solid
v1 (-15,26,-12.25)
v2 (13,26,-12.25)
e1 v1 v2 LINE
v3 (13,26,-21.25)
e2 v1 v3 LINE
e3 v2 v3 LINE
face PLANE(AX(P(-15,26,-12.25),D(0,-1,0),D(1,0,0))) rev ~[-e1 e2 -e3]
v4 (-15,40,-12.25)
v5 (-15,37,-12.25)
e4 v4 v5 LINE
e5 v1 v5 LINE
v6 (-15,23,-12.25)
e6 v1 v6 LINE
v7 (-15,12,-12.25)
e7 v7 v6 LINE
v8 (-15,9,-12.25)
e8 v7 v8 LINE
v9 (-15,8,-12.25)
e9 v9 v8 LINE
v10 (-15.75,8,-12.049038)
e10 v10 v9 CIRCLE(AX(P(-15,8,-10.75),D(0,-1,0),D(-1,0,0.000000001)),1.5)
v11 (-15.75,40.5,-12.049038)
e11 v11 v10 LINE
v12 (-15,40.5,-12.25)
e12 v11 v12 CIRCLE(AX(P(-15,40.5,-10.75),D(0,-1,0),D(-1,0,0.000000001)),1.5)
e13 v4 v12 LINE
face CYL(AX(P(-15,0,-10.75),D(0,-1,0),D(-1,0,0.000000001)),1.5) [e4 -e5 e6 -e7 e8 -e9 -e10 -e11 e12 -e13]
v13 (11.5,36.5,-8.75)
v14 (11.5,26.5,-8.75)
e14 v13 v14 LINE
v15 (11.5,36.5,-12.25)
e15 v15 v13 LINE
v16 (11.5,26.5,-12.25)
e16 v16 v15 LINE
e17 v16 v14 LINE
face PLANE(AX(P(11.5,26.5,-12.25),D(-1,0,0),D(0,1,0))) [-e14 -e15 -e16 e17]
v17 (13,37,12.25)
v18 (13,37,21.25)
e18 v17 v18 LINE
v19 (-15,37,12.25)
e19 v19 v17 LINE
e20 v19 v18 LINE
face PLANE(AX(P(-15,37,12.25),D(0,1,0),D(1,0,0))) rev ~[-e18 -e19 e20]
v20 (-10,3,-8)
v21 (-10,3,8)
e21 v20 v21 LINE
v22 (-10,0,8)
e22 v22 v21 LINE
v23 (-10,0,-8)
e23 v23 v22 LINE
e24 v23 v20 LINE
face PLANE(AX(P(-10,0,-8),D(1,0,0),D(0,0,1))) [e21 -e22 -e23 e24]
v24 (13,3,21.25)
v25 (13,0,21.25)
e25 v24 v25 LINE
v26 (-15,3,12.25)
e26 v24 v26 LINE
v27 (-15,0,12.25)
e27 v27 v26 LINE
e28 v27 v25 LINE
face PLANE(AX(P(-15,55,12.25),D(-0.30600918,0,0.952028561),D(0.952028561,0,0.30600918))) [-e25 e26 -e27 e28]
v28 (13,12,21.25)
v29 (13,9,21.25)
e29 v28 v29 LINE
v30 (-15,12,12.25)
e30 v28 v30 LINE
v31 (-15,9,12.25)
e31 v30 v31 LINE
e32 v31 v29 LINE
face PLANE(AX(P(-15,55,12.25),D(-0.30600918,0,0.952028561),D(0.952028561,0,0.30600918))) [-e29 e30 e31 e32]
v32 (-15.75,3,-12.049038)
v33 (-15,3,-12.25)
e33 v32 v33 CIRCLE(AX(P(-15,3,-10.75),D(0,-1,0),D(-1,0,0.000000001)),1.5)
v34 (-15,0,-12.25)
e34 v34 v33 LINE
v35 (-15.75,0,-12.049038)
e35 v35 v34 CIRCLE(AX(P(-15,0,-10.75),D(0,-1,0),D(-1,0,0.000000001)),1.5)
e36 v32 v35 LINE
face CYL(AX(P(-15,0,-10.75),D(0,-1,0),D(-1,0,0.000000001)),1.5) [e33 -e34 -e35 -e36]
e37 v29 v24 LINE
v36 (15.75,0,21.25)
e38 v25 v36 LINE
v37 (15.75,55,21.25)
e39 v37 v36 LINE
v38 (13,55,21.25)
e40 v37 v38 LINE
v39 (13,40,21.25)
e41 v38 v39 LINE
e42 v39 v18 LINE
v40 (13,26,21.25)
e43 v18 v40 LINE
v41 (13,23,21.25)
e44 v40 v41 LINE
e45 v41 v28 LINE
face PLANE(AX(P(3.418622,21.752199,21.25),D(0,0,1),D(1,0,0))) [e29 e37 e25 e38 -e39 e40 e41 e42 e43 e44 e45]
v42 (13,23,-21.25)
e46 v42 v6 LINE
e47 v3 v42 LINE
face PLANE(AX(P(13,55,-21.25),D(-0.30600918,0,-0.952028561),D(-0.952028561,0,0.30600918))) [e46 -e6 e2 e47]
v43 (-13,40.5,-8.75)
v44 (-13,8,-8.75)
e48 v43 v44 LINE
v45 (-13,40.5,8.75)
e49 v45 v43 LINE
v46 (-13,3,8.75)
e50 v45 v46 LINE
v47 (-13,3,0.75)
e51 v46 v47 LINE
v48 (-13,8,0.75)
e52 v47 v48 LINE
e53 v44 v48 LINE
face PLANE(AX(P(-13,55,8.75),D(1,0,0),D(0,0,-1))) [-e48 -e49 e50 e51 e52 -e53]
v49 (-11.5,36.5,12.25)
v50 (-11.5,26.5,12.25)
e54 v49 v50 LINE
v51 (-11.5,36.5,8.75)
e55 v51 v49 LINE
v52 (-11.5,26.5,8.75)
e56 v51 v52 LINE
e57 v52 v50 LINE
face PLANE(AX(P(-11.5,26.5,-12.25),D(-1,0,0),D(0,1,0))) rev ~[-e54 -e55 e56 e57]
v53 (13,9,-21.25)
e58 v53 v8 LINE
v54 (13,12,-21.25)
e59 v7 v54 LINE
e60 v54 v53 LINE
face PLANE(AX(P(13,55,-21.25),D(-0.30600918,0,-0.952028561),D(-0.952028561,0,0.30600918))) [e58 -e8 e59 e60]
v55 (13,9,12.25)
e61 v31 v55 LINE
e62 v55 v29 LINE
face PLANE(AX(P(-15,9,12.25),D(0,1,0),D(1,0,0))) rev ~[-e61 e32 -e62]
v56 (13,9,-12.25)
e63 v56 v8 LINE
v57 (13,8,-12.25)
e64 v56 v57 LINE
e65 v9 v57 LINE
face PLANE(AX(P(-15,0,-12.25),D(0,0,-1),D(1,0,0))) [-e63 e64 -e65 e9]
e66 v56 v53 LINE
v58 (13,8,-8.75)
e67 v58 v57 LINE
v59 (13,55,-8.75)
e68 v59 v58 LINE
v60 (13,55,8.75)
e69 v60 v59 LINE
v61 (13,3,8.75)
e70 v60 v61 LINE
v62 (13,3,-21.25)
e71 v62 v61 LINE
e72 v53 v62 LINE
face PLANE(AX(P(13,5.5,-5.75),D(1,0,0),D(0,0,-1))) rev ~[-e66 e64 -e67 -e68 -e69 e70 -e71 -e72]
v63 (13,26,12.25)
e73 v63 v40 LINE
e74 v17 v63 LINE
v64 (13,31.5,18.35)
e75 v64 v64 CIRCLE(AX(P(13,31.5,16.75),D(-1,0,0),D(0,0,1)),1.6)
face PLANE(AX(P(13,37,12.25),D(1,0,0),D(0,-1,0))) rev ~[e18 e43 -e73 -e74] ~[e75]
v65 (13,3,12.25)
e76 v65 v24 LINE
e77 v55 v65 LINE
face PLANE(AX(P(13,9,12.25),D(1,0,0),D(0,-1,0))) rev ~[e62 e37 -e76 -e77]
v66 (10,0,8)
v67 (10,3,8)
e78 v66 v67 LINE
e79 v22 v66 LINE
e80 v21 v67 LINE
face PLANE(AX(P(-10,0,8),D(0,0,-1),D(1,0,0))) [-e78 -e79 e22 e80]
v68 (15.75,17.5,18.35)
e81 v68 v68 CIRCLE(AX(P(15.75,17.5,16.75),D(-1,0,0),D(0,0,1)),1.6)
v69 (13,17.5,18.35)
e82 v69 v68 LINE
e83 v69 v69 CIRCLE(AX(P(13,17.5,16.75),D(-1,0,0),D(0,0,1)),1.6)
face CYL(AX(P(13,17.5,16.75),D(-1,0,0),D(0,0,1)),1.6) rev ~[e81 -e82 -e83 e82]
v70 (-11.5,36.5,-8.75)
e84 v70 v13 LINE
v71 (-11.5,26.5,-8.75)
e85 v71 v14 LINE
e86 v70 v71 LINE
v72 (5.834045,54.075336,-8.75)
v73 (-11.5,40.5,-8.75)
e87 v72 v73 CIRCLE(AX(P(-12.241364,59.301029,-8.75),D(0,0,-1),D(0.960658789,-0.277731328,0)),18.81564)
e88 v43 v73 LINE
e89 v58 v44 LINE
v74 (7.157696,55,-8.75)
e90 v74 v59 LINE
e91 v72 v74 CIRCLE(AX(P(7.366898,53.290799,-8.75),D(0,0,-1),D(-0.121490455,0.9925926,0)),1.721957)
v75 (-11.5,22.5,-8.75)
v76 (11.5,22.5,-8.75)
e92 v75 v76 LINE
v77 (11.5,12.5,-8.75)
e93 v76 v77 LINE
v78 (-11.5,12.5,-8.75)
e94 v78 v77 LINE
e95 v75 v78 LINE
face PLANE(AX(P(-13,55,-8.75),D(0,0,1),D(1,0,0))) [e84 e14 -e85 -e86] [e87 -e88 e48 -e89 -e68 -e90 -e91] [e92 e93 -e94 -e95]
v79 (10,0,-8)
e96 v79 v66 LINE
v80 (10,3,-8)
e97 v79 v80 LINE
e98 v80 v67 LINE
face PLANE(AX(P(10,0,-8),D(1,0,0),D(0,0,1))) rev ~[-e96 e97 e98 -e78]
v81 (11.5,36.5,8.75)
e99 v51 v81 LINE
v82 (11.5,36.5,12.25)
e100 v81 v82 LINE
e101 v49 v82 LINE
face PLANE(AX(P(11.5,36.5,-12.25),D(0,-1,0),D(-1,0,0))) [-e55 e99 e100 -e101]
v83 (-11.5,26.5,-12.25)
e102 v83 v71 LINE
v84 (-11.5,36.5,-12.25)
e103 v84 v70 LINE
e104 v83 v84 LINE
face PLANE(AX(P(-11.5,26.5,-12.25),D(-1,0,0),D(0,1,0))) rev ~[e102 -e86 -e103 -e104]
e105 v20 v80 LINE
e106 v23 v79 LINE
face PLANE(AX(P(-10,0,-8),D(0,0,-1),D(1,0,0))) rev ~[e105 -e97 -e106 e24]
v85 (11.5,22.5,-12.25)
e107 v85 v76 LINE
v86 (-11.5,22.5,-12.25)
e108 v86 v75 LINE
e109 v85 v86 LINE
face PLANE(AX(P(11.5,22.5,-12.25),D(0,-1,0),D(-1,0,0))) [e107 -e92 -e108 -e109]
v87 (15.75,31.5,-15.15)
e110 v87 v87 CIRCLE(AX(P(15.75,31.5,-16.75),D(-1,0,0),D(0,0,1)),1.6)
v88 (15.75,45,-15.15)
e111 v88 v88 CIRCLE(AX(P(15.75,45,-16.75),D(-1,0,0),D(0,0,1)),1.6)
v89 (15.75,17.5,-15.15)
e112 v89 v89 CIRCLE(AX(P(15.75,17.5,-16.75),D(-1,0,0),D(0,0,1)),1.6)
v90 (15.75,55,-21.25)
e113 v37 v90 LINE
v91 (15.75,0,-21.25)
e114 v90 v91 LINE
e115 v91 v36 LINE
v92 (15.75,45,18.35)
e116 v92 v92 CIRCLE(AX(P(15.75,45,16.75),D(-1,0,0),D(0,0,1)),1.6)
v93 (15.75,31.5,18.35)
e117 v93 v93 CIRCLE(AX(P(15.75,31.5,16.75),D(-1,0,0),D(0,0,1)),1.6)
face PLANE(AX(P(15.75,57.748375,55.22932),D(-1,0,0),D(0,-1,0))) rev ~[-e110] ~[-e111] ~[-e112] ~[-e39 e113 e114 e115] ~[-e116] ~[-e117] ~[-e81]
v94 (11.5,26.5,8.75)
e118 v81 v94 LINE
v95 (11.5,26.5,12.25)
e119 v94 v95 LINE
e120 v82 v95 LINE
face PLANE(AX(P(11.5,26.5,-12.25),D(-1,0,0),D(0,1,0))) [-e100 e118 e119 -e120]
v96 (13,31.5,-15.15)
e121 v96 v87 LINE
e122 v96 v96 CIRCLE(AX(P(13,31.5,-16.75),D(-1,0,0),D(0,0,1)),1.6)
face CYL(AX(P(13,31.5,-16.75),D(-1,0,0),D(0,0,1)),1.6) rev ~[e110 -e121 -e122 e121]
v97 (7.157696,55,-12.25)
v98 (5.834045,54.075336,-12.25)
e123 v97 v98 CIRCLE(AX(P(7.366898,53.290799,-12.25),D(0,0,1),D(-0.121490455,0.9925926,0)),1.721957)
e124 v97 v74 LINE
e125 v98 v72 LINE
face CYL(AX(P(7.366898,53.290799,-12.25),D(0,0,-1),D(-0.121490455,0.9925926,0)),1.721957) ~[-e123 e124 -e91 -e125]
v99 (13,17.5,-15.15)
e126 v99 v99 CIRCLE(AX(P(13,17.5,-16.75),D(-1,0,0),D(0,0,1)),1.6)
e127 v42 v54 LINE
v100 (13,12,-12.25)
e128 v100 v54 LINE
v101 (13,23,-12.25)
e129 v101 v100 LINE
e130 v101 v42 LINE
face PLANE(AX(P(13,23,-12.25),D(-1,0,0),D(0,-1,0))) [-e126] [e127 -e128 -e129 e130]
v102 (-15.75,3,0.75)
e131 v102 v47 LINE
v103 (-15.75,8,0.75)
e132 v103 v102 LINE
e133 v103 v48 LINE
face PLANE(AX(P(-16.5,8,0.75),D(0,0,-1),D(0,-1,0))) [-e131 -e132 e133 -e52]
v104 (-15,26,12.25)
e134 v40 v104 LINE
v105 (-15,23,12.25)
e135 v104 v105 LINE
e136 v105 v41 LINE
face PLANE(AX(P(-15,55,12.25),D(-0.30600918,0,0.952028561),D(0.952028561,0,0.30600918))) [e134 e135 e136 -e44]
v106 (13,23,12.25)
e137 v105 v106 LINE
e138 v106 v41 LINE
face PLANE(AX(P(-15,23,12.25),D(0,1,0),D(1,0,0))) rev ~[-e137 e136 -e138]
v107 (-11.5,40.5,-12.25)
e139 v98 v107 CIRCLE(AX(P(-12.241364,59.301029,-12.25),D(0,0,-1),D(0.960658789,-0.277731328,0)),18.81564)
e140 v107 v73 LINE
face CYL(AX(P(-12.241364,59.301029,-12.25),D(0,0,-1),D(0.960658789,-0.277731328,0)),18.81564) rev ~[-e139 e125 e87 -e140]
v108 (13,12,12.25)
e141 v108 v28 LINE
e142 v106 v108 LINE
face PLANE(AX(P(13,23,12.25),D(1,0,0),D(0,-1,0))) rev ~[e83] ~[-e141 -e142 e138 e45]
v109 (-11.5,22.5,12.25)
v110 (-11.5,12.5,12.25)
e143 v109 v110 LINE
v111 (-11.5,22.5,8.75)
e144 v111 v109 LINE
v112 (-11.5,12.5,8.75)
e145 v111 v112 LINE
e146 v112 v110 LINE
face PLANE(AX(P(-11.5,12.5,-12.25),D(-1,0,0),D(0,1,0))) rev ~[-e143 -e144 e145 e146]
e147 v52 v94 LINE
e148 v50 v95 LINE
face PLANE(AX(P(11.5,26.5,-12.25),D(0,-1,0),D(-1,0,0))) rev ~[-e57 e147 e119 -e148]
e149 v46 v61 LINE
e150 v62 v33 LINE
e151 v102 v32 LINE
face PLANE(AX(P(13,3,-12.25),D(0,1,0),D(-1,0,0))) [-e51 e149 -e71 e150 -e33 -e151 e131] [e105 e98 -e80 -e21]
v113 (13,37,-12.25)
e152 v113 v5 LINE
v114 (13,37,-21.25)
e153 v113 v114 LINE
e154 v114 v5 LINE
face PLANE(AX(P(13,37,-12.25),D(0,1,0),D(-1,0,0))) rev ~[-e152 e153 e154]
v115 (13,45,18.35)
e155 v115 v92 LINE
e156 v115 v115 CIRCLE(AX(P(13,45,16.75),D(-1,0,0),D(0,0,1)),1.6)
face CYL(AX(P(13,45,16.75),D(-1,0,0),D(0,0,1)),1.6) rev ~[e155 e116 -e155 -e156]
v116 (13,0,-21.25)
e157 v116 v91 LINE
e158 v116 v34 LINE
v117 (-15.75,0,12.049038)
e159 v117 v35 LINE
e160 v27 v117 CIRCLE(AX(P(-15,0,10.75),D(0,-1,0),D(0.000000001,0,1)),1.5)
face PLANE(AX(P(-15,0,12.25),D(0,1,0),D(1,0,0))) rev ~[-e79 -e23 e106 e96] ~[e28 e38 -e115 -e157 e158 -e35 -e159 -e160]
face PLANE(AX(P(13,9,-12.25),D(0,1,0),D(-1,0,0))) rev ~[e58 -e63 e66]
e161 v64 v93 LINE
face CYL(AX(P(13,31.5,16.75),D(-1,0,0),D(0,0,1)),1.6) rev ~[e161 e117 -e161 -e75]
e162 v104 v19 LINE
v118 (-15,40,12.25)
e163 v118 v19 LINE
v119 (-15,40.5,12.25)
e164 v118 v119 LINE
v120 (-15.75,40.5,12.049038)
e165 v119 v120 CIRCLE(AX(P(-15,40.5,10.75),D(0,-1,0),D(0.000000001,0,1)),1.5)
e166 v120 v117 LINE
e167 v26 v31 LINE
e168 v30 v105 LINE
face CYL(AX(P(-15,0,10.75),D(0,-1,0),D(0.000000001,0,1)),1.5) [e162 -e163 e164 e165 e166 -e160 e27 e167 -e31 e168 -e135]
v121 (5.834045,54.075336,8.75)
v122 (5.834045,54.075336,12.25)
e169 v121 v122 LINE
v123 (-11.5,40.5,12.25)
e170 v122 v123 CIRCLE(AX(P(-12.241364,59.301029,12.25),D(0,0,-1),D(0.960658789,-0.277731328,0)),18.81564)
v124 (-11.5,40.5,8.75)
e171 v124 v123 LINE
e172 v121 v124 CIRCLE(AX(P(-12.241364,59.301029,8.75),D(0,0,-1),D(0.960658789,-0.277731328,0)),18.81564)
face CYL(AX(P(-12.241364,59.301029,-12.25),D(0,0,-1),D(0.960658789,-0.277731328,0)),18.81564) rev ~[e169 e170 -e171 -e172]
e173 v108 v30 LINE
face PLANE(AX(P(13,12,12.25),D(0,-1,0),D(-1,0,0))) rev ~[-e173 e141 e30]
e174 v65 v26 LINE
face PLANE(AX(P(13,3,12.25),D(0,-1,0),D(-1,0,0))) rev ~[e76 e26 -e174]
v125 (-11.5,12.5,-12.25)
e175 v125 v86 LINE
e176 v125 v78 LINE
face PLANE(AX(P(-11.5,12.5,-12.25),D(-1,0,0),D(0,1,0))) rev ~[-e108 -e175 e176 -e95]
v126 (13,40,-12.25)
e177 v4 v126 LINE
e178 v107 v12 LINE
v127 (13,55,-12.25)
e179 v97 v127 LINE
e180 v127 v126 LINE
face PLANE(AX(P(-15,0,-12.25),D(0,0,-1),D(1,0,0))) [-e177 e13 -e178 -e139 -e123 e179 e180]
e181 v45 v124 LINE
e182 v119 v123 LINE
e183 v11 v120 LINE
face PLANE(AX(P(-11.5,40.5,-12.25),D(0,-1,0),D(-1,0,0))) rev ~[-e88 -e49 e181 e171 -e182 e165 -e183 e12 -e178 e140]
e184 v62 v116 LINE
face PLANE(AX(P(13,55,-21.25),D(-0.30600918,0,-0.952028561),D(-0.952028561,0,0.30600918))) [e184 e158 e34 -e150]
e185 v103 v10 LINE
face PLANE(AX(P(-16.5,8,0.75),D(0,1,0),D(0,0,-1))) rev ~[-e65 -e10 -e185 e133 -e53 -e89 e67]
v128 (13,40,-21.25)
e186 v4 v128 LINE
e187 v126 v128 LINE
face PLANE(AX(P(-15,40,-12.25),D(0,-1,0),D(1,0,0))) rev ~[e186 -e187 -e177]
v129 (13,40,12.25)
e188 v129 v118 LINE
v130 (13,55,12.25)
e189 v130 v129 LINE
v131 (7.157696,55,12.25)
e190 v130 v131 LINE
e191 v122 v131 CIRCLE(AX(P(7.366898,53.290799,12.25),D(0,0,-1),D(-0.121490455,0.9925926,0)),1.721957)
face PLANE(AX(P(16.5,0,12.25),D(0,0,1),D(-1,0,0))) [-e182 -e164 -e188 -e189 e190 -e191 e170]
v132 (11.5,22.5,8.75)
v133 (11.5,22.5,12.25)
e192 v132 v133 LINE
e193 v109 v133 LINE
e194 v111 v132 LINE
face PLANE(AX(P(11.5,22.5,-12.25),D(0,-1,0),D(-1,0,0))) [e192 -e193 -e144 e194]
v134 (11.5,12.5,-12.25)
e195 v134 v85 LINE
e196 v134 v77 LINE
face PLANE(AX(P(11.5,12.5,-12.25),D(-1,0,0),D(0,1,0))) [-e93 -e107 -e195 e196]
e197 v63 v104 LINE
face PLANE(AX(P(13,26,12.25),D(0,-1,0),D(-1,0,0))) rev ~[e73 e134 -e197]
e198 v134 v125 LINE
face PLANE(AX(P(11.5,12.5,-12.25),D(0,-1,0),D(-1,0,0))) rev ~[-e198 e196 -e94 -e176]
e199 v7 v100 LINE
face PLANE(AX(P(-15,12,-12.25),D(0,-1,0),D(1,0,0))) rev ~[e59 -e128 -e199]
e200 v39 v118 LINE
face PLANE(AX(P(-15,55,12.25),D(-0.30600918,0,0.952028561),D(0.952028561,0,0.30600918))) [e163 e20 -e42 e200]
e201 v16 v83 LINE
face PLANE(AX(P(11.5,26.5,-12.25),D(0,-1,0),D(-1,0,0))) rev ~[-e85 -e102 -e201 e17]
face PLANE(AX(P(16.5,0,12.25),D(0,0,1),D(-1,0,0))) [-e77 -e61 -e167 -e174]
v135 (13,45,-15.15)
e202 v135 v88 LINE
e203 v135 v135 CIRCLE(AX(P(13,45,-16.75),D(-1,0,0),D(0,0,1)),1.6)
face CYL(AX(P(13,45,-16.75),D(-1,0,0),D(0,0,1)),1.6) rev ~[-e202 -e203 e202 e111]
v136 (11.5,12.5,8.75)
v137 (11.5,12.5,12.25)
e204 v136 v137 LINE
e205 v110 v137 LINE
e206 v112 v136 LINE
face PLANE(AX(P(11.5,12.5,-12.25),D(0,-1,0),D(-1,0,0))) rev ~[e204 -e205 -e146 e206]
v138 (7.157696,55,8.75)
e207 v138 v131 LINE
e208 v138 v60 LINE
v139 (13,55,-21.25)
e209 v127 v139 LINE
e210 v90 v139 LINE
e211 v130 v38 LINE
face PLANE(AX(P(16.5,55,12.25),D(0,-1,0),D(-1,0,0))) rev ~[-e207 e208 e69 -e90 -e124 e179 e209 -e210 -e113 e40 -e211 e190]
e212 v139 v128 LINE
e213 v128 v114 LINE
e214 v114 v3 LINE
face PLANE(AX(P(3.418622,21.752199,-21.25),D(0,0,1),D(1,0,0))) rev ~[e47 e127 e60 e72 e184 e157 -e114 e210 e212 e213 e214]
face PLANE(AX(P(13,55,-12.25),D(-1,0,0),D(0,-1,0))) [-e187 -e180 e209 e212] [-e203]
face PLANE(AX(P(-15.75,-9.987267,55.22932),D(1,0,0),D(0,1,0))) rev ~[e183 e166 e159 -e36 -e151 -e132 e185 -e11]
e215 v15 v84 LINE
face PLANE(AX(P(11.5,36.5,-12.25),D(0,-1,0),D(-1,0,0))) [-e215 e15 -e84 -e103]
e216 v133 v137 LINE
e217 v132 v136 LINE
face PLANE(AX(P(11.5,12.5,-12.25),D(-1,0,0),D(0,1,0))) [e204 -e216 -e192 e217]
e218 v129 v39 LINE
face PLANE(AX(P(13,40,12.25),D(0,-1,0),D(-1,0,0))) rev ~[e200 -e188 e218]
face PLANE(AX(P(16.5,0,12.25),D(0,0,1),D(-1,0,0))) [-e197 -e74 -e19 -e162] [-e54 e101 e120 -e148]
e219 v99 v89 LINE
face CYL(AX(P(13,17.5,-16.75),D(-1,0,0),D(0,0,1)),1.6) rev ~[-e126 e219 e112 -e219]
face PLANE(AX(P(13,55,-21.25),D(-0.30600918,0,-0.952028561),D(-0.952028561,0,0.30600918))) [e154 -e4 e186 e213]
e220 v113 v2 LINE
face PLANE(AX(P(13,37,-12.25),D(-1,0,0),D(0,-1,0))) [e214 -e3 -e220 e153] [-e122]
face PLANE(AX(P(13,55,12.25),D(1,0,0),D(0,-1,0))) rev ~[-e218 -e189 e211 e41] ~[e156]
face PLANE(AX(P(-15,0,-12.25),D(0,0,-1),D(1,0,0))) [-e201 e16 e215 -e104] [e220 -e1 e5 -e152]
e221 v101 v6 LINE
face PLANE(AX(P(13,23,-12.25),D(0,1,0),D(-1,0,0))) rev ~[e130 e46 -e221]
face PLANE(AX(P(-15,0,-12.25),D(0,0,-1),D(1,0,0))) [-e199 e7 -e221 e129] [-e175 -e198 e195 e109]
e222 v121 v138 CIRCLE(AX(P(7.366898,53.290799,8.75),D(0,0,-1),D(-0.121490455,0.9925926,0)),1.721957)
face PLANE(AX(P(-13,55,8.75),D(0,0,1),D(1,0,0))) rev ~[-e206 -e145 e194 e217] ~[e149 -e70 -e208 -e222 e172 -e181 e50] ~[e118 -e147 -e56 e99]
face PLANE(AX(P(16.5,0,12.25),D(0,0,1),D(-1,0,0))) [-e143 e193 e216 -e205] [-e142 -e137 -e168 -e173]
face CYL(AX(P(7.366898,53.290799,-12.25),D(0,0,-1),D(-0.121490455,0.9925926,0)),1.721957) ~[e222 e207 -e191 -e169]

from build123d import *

# Parameters (mm, degrees)
RESSALTO_EXTRUS_O1_DEPTH   = 55
ESBO_O2_W                  = 26
ESBO_O2_H                  = 17.5
CORTE_EXTRUS_O1_DEPTH      = 52
CORTE_EXTRUS_O2_DEPTH      = 29.5
ESBO_O4_W                  = 23
ESBO_O4_H                  = 10
CORTE_EXTRUS_O3_DEPTH      = 52
ESBO_O5_W                  = 20
ESBO_O5_H                  = 16
CORTE_EXTRUS_O4_DEPTH      = 52
RESSALTO_EXTRUS_O3_DEPTH   = 9
RESSALTO_EXTRUS_O4_DEPTH   = 9
CORTE_EXTRUS_O7_DEPTH      = 62.227546905
ESBO_O12_R                 = 1.6
CORTE_EXTRUS_O8_DEPTH      = 66.930360988
CORTE_EXTRUS_O9_DEPTH      = 67.479320093
CORTE_EXTRUS_O9_DEPTH_BACK = 67.479320093


with BuildPart() as part:
    # Esboço1 → Ressalto-extrusão1 (new body)
    with BuildSketch(Plane(origin=(0, 0, 0), x_dir=(1, 0, 0), z_dir=(0, 1, 0))):
        with BuildLine():
            Line((15, 12.25), (16.5, 12.25))
            Line((16.5, 12.25), (16.5, 10.75))
            Line((16.5, 10.75), (16.5, -10.75))
            Line((16.5, -10.75), (16.5, -12.25))
            Line((16.5, -12.25), (15, -12.25))
            Line((15, -12.25), (-15, -12.25))
            ThreePointArc((-15, -12.25), (-16.060660172, -11.810660172), (-16.5, -10.75))
            Line((-16.5, -10.75), (-16.5, 10.75))
            ThreePointArc((-16.5, 10.75), (-16.060660172, 11.810660172), (-15, 12.25))
            Line((-15, 12.25), (15, 12.25))
        make_face()
    extrude(amount=RESSALTO_EXTRUS_O1_DEPTH)

    # Esboço2 → Corte-extrusão1 (cut)
    with BuildSketch(Plane(origin=(0, 55, 0), x_dir=(1, 0, 0), z_dir=(0, 1, 0))):
        Rectangle(ESBO_O2_W, ESBO_O2_H)
    extrude(amount=-CORTE_EXTRUS_O1_DEPTH, mode=Mode.SUBTRACT)

    # Esboço3 → Corte-extrusão2 (cut)
    with BuildSketch(Plane.ZY.offset(16.5)):
        Polygon((-4.25, 8), (0.75, 8), (0.75, 3), (-4.25, 3), (-12.25, 3), (-12.25, 8), align=None)
    extrude(amount=-CORTE_EXTRUS_O2_DEPTH, mode=Mode.SUBTRACT)

    # Esboço4 → Corte-extrusão3 (cut)
    with BuildSketch(Plane(origin=(0, 0, -12.25), x_dir=(-1, 0, 0), z_dir=(0, 0, -1))):
        with Locations((0, 17.5)):
            Rectangle(ESBO_O4_W, ESBO_O4_H)
        with Locations((0, 31.5)):
            Rectangle(ESBO_O4_W, ESBO_O4_H)
        with BuildLine():
            Line((11.5, 40.5), (24.942410125, 40.5))
            Line((24.942410125, 40.5), (24.942410125, 59.834456184))
            Line((24.942410125, 59.834456184), (-1.5, 59.834456184))
            Line((-1.5, 59.834456184), (-6.076098787, 62.09241335))
            Line((-6.076098787, 62.09241335), (-7.576098787, 62.09241335))
            Line((-7.576098787, 62.09241335), (-7.576098787, 57.63082944))
            Line((-7.576098787, 57.63082944), (-16.5, 57.63082944))
            Line((-16.5, 57.63082944), (-16.5, 55))
            Line((-16.5, 55), (-7.576098787, 55))
            Line((-7.576098787, 55), (-7.157696235, 55))
            ThreePointArc((-7.157696235, 55), (-6.380774636, 54.702427517), (-5.834045456, 54.07533601))
            ThreePointArc((-5.834045456, 54.07533601), (0.640063345, 44.48758485), (11.5, 40.5))
        make_face()
    extrude(amount=-CORTE_EXTRUS_O3_DEPTH, mode=Mode.SUBTRACT)

    # Esboço5 → Corte-extrusão4 (cut)
    with BuildSketch(Plane.XZ):
        Rectangle(ESBO_O5_W, ESBO_O5_H)
    extrude(amount=-CORTE_EXTRUS_O4_DEPTH, mode=Mode.SUBTRACT)

    # Esboço6 → Ressalto-extrusão3 (add)
    with BuildSketch(Plane(origin=(0, 0, -12.25), x_dir=(-1, 0, 0), z_dir=(0, 0, -1))):
        Polygon((-16.5, 55), (-13, 55), (-13, 40), (-8.260417548, 40), (15, 40), (15, 37), (-8.260417548, 37), (-13, 37), (-13, 26), (-8.260417548, 26), (15, 26), (15, 23), (-8.260417548, 23), (-13, 23), (-13, 12), (-8.260417548, 12), (15, 12), (15, 9), (-8.260417548, 9), (-13, 9), (-13, 3), (15, 3), (15, 0), (-16.5, 0), align=None)
    extrude(amount=RESSALTO_EXTRUS_O3_DEPTH)

    # Esboço9 → Ressalto-extrusão4 (add)
    with BuildSketch(Plane.XY.offset(12.25)):
        Polygon((13, 23), (13, 12), (8.260417548, 12), (-15, 12), (-15, 9), (8.260417548, 9), (13, 9), (13, 3), (-15, 3), (-15, 0), (16.5, 0), (16.5, 55), (13, 55), (13, 40), (8.260417548, 40), (-15, 40), (-15, 37), (8.260417548, 37), (13, 37), (13, 26), (8.260417548, 26), (-15, 26), (-15, 23), (8.260417548, 23), align=None)
    extrude(amount=RESSALTO_EXTRUS_O4_DEPTH)

    # Esboço11 → Corte-extrusão7 (cut, through all)
    with BuildSketch(Plane(origin=(0, 55, 0), x_dir=(1, 0, 0), z_dir=(0, 1, 0))):
        Polygon((13, 21.25), (-15, 12.25), (-18.396269007, 13.557013), (-20.171014906, 2.968836485), (-21.687729599, -13.92980577), (-19.283641957, -16.807997198), (-15, -12.25), (13, -21.25), (12.387270144, -22.842176527), (-13.733579981, -25.767037441), (-25.593893111, -17.703590231), (-24.101496534, -8.799916531), (-21.404407074, 21.25), (-11.342896145, 26.819075861), (13.346838628, 26.819075861), align=None)
    extrude(amount=-CORTE_EXTRUS_O7_DEPTH, mode=Mode.SUBTRACT)

    # Esboço12 → Corte-extrusão8 (cut, through all)
    with BuildSketch(Plane.ZY.offset(-13)):
        with Locations((-16.75, 45)):
            Circle(ESBO_O12_R)
        with Locations((-16.75, 31.5)):
            Circle(ESBO_O12_R)
        with Locations((-16.75, 17.5)):
            Circle(ESBO_O12_R)
        with Locations((16.75, 17.5)):
            Circle(ESBO_O12_R)
        with Locations((16.75, 31.5)):
            Circle(ESBO_O12_R)
        with Locations((16.75, 45)):
            Circle(ESBO_O12_R)
    extrude(amount=-CORTE_EXTRUS_O8_DEPTH, mode=Mode.SUBTRACT)

    # Esboço13 → Corte-extrusão9 (cut, two sides: drawn at the far end of the back side and taken through both)
    with BuildSketch(Plane(origin=(0, 0, -12.25), x_dir=(-1, 0, 0), z_dir=(0, 0, -1)).offset(-CORTE_EXTRUS_O9_DEPTH_BACK)):
        Polygon((-16, 57.748375369), (-15.75, 57.748375369), (-15.75, -2.748375369), (-16, -2.748375369), (-16.5, -2.748375369), (-21.567741729, -3.81911432), (-26.240802846, 1.764024497), (-29.75124657, 11.630119118), (-32.031223005, 26.530526522), (-32.963463423, 30.826938884), (-36.481605691, 47.040985858), align=None)
        Polygon((16.5, -3.81911432), (16, -3.81911432), (15.75, -9.987267399), (15.75, 53.083012796), (16, 53.083012796), (35.334385386, 35.109894688), (36.940493813, 23.637691641), (28.756988973, 6.505868423), align=None)
    extrude(amount=CORTE_EXTRUS_O9_DEPTH + CORTE_EXTRUS_O9_DEPTH_BACK, mode=Mode.SUBTRACT)


solid = part.part
